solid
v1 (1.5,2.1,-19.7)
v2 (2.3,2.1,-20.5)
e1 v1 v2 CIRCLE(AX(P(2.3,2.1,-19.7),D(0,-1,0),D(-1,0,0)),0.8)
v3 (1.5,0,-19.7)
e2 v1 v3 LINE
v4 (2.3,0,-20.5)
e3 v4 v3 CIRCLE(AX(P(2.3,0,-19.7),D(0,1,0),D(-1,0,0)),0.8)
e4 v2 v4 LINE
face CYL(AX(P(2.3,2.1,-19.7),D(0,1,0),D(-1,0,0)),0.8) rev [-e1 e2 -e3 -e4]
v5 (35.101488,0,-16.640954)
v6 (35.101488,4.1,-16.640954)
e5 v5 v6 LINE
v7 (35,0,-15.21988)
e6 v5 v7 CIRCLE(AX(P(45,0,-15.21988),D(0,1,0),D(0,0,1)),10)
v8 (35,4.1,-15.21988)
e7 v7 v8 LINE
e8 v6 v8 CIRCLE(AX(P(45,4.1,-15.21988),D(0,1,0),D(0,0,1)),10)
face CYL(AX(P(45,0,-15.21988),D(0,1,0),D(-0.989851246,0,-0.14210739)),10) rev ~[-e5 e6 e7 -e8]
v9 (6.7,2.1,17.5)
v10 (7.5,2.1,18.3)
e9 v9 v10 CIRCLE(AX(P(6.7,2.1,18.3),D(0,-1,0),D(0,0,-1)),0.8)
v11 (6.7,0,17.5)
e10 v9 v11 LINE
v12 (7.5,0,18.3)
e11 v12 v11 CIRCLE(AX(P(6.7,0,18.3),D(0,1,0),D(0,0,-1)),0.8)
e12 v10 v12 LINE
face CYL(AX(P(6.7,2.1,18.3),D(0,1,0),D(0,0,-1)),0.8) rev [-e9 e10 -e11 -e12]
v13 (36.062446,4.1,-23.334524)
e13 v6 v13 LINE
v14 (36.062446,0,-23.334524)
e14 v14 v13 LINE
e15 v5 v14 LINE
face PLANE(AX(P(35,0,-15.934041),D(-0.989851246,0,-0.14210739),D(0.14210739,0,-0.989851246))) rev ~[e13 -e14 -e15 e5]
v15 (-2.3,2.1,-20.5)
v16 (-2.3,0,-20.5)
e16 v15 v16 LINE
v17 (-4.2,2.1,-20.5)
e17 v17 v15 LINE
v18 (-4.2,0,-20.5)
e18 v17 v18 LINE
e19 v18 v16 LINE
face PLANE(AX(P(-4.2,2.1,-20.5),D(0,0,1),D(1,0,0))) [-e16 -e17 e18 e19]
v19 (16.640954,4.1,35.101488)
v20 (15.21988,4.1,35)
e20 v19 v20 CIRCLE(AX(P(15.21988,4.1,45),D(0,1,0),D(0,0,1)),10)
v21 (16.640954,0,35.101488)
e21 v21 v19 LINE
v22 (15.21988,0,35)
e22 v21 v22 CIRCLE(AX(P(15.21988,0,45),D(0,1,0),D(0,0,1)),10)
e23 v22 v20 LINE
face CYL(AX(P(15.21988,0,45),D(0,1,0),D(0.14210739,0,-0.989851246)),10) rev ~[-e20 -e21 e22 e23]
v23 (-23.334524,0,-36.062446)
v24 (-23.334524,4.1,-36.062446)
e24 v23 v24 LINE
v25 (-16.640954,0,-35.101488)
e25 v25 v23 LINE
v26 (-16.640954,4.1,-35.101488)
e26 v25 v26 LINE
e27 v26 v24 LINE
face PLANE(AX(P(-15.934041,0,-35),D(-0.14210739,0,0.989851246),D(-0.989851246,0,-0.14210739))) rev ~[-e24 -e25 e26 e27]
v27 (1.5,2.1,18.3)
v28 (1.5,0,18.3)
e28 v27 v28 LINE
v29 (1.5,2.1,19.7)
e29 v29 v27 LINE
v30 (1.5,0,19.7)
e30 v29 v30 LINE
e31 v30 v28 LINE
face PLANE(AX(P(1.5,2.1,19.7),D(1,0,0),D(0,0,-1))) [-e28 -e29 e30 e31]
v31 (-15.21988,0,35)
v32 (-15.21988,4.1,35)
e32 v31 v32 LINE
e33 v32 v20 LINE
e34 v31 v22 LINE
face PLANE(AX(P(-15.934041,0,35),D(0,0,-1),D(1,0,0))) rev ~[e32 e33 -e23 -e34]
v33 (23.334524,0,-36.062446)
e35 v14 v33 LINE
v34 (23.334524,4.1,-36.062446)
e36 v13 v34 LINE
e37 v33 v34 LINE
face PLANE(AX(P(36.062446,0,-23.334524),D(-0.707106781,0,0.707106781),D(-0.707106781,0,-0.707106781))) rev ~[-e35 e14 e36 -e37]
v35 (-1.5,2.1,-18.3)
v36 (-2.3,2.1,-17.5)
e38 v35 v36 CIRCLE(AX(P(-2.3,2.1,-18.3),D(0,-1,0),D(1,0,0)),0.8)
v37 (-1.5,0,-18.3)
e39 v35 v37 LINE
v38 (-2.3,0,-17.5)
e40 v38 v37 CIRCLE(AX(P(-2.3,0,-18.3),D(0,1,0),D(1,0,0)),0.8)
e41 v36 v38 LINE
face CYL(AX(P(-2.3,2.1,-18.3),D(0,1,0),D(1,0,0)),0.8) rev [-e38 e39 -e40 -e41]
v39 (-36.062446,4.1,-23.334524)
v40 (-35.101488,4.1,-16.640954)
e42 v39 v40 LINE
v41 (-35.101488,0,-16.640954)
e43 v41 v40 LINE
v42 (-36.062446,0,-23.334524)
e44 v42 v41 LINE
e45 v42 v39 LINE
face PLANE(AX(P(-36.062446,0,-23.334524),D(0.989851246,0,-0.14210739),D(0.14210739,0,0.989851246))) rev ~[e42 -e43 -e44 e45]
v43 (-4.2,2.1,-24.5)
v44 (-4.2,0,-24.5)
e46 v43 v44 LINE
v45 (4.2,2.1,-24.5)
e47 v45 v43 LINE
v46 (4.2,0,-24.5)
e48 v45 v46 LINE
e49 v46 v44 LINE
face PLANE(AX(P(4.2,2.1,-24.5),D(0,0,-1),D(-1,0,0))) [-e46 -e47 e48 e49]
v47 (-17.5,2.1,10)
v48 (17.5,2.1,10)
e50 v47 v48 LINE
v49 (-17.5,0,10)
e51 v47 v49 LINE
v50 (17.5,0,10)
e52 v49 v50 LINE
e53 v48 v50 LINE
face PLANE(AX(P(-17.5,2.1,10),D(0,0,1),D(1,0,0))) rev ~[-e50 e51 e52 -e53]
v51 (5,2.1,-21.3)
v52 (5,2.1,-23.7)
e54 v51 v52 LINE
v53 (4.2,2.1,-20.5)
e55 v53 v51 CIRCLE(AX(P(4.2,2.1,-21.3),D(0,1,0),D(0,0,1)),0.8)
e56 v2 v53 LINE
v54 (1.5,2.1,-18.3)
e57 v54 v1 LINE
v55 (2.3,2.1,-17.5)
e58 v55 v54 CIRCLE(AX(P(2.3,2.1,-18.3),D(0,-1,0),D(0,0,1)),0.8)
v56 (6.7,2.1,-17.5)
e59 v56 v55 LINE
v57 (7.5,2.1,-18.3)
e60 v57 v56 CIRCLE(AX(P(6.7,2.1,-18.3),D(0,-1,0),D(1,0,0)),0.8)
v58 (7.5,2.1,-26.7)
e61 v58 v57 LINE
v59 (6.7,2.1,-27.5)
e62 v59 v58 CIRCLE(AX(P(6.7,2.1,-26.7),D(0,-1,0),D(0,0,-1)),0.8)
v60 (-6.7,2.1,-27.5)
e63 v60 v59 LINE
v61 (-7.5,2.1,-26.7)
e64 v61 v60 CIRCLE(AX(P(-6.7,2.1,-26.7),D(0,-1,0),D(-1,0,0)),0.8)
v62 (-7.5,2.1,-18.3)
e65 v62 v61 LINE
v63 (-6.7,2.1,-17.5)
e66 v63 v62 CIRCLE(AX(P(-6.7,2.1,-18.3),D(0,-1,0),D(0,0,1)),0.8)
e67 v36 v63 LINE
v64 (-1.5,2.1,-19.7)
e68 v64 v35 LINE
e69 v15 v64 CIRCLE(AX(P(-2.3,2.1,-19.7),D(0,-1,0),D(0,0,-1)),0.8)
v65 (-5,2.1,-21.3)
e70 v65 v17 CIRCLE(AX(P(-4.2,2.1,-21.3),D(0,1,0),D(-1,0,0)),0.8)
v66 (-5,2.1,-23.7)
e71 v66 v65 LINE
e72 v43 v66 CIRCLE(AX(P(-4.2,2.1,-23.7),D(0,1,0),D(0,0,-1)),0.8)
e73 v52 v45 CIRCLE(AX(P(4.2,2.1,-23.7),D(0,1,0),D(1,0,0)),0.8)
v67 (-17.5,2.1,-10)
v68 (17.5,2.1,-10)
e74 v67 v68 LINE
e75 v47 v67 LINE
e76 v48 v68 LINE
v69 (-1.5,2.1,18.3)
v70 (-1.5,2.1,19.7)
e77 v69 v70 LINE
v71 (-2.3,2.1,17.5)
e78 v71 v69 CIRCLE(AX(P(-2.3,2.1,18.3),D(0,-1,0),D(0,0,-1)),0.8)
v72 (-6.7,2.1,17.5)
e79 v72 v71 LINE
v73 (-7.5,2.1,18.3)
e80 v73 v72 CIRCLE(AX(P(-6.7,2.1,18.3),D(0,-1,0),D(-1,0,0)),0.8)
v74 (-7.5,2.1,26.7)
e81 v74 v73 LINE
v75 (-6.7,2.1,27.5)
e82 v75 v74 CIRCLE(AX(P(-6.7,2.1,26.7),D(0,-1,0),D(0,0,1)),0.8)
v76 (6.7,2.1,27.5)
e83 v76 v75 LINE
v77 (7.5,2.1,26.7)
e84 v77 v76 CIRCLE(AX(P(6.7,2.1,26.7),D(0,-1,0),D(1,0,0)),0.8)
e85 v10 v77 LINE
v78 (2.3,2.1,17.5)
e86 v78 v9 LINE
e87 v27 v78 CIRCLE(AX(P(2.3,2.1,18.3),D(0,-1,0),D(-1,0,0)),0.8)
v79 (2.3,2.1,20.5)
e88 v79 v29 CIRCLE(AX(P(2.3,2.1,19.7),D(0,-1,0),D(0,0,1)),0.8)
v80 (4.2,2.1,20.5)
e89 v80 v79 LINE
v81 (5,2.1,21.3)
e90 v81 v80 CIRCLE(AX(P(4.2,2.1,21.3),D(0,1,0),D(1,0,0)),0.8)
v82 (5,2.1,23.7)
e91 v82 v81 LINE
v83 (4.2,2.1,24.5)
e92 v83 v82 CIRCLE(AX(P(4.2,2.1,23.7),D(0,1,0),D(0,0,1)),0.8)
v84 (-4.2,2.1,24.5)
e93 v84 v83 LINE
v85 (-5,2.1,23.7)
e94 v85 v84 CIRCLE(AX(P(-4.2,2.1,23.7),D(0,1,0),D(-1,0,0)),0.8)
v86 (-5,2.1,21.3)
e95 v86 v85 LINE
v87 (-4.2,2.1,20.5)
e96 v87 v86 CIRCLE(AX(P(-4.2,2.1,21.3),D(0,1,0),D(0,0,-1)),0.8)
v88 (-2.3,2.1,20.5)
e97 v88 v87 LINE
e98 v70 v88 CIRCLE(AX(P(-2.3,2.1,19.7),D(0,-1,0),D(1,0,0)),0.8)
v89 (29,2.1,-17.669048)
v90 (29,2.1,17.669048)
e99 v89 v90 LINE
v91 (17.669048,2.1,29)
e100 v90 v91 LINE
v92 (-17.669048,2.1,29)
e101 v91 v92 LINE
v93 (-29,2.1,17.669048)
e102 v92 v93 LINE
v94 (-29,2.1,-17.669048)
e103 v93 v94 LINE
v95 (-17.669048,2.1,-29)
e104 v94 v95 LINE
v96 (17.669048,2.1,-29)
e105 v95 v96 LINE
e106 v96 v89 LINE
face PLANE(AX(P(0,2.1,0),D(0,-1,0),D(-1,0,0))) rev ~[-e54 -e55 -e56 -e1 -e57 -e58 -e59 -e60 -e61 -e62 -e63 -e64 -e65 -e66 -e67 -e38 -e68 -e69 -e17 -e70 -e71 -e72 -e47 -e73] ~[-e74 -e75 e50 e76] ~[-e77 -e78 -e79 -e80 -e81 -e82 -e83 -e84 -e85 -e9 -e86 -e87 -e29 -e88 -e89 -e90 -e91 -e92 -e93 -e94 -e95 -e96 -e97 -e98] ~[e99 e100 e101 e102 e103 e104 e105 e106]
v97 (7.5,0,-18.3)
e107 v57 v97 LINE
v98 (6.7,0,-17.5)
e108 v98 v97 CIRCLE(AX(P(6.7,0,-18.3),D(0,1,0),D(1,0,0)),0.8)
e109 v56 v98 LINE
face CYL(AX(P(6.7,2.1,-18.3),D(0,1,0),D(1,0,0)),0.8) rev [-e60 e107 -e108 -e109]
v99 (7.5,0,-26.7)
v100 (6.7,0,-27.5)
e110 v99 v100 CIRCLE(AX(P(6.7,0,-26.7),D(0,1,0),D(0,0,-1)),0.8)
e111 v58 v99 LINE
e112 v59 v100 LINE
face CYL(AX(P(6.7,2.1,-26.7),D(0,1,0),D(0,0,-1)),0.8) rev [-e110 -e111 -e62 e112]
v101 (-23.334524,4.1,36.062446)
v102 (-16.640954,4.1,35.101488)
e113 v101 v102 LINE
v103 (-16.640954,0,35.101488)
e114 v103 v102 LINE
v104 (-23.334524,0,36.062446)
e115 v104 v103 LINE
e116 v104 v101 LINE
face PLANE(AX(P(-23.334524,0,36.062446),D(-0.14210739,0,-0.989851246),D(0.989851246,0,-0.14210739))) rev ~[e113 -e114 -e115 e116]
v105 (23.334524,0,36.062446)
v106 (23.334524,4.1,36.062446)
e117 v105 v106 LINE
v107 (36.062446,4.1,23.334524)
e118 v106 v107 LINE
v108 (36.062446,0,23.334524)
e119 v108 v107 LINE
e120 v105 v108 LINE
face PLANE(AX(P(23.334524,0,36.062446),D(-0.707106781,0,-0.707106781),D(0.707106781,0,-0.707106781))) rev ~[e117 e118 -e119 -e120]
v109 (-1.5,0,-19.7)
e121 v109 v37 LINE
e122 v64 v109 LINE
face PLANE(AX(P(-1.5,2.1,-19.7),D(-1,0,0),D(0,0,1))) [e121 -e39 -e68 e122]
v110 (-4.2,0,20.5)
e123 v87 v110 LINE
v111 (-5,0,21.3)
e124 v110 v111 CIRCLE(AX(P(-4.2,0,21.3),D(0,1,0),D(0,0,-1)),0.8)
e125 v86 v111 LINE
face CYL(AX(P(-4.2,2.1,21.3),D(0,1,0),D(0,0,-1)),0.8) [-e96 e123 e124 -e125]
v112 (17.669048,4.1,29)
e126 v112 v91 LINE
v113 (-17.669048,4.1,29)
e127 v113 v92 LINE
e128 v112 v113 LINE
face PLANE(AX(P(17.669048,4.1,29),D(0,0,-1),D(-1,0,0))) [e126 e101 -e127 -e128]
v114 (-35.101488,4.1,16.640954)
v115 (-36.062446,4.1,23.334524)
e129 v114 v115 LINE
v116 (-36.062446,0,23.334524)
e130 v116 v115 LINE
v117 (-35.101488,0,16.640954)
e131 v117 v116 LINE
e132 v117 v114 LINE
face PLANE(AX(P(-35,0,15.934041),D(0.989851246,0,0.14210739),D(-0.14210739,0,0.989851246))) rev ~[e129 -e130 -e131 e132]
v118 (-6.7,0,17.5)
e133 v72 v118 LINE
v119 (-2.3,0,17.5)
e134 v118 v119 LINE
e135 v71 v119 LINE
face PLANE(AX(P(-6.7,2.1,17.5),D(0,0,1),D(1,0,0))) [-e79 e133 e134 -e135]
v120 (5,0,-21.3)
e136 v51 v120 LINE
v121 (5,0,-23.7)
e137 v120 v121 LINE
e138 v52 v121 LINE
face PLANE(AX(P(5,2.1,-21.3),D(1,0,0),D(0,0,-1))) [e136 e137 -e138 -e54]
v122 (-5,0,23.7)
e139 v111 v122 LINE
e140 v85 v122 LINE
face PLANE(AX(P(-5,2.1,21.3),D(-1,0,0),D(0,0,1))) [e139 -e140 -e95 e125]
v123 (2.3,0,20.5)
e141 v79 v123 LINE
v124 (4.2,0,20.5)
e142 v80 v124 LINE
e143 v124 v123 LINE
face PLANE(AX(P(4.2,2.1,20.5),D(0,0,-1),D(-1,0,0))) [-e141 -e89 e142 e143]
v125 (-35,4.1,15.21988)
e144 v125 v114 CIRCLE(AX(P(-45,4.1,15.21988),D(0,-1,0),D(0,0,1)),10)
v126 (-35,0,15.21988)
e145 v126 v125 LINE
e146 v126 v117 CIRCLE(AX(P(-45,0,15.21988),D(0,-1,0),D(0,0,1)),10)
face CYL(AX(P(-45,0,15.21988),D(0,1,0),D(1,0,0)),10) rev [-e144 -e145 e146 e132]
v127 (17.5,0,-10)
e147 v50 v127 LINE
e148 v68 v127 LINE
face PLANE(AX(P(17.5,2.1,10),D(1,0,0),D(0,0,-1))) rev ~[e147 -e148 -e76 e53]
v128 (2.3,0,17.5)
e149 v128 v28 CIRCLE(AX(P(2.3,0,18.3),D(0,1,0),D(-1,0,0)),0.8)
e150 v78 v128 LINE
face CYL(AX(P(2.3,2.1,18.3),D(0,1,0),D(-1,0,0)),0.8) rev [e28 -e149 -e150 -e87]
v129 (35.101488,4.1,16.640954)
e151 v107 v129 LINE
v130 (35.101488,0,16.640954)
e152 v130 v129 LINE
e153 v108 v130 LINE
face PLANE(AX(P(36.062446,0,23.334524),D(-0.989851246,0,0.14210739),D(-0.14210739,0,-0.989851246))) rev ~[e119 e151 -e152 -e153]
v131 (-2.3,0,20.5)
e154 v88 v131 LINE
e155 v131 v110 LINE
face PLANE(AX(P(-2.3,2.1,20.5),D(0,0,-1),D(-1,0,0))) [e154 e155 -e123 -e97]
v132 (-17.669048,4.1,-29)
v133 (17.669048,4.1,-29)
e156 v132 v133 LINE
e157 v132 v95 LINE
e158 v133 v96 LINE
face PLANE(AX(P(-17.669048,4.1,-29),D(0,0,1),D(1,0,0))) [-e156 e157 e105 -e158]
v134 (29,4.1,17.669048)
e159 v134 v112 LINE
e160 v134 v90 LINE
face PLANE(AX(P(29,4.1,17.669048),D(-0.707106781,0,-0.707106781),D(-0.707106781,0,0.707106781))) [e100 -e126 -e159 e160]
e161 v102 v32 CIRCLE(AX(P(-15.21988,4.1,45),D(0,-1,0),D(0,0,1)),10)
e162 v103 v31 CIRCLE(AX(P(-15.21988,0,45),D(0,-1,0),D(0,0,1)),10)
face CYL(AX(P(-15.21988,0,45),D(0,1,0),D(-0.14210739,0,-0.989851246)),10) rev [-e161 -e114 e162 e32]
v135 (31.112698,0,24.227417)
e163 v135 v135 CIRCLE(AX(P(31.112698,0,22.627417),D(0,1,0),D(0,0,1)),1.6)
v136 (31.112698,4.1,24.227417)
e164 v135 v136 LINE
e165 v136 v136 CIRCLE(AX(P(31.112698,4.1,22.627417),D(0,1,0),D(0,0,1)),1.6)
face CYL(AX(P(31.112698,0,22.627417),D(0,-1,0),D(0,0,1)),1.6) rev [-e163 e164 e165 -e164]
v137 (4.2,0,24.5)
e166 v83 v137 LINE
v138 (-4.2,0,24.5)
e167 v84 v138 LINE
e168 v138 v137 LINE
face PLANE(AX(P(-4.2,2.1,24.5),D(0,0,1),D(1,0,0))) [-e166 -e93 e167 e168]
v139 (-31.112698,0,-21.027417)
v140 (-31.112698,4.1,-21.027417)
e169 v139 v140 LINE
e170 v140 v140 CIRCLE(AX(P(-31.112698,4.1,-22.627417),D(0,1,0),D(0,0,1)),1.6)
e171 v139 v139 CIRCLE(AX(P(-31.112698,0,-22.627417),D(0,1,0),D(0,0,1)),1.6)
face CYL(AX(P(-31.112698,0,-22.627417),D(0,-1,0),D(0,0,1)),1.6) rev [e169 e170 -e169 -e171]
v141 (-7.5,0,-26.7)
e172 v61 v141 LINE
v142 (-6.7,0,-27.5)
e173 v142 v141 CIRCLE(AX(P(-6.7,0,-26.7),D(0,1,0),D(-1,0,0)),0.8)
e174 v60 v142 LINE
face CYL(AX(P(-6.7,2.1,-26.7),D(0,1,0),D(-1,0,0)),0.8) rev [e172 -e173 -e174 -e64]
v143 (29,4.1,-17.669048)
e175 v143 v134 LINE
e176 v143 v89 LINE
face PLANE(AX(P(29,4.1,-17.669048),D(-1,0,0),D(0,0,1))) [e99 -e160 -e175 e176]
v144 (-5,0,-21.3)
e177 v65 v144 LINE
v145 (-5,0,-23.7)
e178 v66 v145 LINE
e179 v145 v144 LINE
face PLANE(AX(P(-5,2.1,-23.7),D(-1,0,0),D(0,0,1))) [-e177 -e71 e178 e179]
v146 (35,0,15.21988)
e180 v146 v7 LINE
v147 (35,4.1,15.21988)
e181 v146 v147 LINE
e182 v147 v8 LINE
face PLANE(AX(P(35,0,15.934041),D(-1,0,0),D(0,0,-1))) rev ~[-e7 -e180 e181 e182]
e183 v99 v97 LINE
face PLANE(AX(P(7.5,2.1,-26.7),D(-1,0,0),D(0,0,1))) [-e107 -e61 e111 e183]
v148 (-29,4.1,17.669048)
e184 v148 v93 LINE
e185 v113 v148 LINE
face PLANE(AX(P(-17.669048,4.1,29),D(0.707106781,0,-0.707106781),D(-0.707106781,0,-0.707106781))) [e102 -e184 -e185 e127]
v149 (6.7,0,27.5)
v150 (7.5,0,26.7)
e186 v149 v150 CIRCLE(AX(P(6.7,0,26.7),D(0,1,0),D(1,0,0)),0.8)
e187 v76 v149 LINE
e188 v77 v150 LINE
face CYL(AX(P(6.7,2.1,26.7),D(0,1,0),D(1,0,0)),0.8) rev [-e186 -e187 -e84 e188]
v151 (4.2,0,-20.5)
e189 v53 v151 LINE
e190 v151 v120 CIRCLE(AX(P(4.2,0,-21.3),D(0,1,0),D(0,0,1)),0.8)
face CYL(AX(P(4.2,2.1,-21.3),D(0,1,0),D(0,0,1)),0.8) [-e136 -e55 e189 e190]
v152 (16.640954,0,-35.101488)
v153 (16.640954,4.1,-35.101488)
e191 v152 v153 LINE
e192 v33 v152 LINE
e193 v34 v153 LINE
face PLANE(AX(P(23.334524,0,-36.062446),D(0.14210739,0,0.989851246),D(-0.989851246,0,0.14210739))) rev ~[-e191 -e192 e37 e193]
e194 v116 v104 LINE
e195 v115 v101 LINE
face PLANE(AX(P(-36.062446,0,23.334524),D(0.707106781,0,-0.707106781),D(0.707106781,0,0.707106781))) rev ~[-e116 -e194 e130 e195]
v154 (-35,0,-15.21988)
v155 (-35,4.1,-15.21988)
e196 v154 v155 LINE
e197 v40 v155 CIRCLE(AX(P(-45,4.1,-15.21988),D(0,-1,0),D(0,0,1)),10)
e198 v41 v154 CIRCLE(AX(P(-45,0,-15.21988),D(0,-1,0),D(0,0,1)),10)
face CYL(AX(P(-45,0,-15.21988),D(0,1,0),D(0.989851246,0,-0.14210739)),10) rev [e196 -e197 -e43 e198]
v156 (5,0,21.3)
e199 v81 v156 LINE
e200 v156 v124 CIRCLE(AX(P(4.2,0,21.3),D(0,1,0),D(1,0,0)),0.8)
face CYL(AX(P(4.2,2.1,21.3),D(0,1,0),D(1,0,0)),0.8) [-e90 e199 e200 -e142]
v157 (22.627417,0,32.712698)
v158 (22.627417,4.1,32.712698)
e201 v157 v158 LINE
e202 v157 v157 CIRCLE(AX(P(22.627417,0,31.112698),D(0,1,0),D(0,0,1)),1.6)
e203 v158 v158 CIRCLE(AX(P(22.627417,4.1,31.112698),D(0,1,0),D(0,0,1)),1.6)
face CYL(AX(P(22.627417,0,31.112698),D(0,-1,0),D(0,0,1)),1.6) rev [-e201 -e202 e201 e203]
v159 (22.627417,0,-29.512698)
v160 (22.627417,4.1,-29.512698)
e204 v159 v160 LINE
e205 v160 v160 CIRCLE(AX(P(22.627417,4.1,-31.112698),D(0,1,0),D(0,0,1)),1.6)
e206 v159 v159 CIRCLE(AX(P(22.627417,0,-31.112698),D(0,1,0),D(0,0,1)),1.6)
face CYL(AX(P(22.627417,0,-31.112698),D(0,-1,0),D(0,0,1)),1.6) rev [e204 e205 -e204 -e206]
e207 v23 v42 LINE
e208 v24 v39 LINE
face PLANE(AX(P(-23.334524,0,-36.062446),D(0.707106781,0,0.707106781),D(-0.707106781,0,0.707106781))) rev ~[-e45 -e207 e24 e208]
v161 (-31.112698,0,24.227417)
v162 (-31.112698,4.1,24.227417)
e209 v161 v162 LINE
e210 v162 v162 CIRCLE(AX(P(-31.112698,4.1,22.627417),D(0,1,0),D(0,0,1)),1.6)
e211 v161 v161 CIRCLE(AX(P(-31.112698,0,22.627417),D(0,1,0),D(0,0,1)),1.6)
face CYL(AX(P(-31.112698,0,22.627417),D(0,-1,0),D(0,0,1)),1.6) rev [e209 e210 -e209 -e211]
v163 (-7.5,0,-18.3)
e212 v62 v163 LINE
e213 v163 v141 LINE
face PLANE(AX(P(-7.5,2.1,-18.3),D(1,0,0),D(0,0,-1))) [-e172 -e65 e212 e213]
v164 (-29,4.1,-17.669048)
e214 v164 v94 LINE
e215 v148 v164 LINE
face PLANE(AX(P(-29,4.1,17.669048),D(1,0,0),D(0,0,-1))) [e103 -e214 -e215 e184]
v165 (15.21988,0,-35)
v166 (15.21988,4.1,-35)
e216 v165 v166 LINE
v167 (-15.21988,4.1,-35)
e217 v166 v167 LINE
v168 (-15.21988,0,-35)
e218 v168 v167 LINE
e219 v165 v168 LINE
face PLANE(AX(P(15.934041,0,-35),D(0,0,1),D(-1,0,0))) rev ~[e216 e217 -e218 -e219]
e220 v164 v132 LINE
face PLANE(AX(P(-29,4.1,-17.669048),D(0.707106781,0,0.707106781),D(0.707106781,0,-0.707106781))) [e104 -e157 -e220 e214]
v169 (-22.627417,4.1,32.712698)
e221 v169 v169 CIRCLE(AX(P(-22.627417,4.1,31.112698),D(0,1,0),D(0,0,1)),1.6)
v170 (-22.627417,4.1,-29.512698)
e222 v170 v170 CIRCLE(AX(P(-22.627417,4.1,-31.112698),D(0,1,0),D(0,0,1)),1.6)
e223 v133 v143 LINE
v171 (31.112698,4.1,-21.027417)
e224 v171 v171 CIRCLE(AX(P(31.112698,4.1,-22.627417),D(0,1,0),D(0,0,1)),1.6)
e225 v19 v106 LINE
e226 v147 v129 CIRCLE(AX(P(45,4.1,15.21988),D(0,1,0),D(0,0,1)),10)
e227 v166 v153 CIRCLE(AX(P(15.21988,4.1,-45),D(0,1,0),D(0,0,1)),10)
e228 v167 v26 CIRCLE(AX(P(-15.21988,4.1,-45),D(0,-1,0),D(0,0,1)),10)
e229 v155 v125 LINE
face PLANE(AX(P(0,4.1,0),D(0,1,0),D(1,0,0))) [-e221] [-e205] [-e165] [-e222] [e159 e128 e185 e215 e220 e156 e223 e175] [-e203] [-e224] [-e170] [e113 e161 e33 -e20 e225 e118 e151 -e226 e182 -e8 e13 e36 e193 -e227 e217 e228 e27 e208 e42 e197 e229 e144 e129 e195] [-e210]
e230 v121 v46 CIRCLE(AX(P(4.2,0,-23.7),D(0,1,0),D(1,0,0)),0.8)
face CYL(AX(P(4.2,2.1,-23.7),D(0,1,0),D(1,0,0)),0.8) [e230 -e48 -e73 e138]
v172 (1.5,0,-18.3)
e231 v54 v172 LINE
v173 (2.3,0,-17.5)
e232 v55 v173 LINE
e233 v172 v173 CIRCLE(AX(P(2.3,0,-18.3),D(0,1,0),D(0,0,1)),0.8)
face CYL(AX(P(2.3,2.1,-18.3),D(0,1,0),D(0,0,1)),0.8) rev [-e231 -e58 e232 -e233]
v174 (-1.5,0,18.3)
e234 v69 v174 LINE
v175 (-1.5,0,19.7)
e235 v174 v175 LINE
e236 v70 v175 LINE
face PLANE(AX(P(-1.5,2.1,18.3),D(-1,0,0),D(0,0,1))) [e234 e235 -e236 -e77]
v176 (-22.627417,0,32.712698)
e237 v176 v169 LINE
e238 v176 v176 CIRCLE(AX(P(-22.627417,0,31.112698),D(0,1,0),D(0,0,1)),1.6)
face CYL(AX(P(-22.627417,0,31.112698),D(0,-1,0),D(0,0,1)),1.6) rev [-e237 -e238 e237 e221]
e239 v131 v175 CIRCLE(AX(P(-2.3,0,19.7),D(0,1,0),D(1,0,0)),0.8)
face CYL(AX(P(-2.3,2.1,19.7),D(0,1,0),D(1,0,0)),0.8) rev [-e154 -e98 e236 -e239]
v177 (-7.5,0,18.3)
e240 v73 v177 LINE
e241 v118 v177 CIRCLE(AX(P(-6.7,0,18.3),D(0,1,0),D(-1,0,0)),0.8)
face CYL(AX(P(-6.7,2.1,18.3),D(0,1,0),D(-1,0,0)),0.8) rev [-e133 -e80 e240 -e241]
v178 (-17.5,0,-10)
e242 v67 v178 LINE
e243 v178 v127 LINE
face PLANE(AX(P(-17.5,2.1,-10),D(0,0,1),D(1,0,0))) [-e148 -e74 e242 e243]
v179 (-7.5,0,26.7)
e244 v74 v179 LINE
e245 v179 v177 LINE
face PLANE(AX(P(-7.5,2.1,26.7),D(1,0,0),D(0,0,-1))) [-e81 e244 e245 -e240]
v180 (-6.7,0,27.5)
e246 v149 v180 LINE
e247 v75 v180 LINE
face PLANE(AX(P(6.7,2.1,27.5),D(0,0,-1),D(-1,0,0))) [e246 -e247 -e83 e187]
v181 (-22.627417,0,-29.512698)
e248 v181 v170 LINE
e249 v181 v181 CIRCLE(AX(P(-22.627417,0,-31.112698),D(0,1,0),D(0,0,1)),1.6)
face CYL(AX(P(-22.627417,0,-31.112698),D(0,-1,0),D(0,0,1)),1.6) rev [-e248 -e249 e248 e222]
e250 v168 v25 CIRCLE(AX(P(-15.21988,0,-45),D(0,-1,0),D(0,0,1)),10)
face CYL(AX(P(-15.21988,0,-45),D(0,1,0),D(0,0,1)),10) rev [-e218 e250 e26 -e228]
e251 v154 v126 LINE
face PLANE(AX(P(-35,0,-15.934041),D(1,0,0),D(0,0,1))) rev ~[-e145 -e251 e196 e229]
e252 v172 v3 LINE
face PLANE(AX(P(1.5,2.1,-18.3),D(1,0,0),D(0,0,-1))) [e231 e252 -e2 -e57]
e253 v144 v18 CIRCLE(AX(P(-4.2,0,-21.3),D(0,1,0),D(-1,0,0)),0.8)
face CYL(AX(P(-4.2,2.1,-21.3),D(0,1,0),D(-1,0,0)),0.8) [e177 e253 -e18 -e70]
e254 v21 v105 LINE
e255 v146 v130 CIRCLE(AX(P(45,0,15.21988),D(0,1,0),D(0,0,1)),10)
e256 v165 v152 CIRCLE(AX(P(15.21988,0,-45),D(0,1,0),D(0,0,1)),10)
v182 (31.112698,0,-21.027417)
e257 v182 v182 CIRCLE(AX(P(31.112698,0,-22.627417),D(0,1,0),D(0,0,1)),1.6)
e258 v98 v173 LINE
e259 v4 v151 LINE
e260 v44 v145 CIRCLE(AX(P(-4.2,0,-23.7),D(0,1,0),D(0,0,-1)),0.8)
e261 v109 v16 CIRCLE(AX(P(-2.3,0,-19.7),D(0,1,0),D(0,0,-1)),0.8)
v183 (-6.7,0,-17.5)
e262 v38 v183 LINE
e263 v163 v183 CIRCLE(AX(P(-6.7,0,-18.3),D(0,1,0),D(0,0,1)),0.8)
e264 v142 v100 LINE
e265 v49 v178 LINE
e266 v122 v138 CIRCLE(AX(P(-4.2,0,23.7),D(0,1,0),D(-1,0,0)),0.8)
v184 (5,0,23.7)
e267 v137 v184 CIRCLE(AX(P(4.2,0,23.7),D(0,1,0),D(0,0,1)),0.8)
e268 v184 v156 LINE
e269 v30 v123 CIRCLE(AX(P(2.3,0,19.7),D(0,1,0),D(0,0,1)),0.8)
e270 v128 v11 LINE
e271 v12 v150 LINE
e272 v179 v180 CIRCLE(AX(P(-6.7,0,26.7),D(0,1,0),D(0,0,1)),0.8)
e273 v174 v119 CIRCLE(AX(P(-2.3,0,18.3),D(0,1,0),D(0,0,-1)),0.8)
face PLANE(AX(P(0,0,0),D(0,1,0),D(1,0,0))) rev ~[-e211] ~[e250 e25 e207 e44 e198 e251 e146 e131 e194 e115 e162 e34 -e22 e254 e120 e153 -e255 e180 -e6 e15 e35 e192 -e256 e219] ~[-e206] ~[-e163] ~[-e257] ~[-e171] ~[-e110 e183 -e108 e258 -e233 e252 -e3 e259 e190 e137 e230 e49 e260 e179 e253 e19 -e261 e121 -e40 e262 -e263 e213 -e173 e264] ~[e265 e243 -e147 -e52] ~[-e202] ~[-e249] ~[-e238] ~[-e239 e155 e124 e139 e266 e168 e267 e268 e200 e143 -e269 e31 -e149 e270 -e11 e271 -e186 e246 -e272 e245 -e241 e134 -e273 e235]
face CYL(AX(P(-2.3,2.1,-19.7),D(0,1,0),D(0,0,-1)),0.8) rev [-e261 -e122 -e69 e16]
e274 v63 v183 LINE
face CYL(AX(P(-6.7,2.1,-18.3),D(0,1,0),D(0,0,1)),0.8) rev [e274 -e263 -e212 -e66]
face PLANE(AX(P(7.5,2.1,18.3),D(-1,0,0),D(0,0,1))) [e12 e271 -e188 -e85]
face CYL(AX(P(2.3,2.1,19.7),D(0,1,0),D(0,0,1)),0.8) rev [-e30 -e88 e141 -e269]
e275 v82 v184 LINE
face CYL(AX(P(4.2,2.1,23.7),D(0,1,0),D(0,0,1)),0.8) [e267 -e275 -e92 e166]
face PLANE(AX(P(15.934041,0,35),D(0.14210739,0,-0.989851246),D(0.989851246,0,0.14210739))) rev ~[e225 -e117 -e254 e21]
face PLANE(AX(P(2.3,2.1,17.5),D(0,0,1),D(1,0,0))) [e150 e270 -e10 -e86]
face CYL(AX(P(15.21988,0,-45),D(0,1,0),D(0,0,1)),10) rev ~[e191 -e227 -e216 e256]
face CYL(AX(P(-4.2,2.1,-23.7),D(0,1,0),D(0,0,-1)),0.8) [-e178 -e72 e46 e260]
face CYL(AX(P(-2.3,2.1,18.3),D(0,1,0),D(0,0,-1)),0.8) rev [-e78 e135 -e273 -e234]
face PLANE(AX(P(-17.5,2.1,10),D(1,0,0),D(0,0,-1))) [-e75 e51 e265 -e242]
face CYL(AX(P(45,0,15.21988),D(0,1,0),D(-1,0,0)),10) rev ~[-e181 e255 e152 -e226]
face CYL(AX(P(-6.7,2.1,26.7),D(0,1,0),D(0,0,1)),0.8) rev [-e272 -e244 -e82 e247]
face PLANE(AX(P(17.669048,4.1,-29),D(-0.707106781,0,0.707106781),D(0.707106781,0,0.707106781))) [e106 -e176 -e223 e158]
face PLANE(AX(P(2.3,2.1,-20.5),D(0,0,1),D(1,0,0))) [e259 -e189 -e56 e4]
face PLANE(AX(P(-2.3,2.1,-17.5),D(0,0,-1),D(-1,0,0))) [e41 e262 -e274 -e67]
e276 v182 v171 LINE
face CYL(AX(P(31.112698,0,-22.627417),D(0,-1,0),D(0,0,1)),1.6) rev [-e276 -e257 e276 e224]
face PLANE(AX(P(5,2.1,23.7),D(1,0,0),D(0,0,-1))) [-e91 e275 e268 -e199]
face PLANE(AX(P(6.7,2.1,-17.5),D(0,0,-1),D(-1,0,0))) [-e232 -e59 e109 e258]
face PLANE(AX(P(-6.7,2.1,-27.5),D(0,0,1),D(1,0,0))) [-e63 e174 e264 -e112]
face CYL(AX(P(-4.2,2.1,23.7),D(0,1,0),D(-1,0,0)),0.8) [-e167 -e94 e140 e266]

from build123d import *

# Parameters (mm, degrees)
SKETCH1_R           = 1.6
BOSS_EXTRUDE1_DEPTH = 4.1
CUT_EXTRUDE1_DEPTH  = 2
FILLET2_R           = 10
CUT_EXTRUDE4_DEPTH  = 52.043216983
SKETCH7_W           = 35
SKETCH7_H           = 20
CUT_EXTRUDE5_DEPTH  = 52.043216983


with BuildPart() as part:
    # Sketch1 → Boss-Extrude1 (new body)
    with BuildSketch(Plane(origin=(0, 0, 0), x_dir=(1, 0, 0), z_dir=(0, 1, 0))):
        Polygon((15.934040652, 35), (-15.934040652, 35), (-23.334523779, 36.062445841), (-36.062445841, 23.334523779), (-35, 15.934040652), (-35, -15.934040652), (-36.062445841, -23.334523779), (-23.334523779, -36.062445841), (-15.934040652, -35), (15.934040652, -35), (23.334523779, -36.062445841), (36.062445841, -23.334523779), (35, -15.934040652), (35, 15.934040652), (36.062445841, 23.334523779), (23.334523779, 36.062445841), align=None)
        with Locations((22.627416998, 31.112698372)):
            Circle(SKETCH1_R, mode=Mode.SUBTRACT)
        with Locations((31.112698372, 22.627416998)):
            Circle(SKETCH1_R, mode=Mode.SUBTRACT)
        with Locations((22.627416998, -31.112698372)):
            Circle(SKETCH1_R, mode=Mode.SUBTRACT)
        with Locations((31.112698372, -22.627416998)):
            Circle(SKETCH1_R, mode=Mode.SUBTRACT)
        with Locations((-31.112698372, -22.627416998)):
            Circle(SKETCH1_R, mode=Mode.SUBTRACT)
        with Locations((-22.627416998, -31.112698372)):
            Circle(SKETCH1_R, mode=Mode.SUBTRACT)
        with Locations((-22.627416998, 31.112698372)):
            Circle(SKETCH1_R, mode=Mode.SUBTRACT)
        with Locations((-31.112698372, 22.627416998)):
            Circle(SKETCH1_R, mode=Mode.SUBTRACT)
    extrude(amount=BOSS_EXTRUDE1_DEPTH)

    # Sketch2 → Cut-Extrude1 (cut)
    with BuildSketch(Plane(origin=(0, 4.1, 0), x_dir=(1, 0, 0), z_dir=(0, 1, 0))):
        Polygon((-17.669047558, 29), (17.669047558, 29), (29, 17.669047558), (29, -17.669047558), (17.669047558, -29), (-17.669047558, -29), (-29, -17.669047558), (-29, 17.669047558), align=None)
    extrude(amount=-CUT_EXTRUDE1_DEPTH, mode=Mode.SUBTRACT)

    # Fillet2
    fillet2_edges = [part.edges().sort_by_distance(p)[0] for p in [
        (-15.934040652, 2.05, -35),
        (15.934040652, 2.05, -35),
        (35, 2.05, -15.934040652),
        (35, 2.05, 15.934040652),
        (-35, 2.05, -15.934040652),
        (-35, 2.05, 15.934040652),
        (15.934040652, 2.05, 35),
        (-15.934040652, 2.05, 35),
    ]]
    fillet(fillet2_edges, radius=FILLET2_R)

    # Sketch6 → Cut-Extrude4 (cut, through all)
    with BuildSketch(Plane(origin=(0, 2.1, 0), x_dir=(1, 0, 0), z_dir=(0, 1, 0))):
        with BuildLine():
            Line((-1.5, 19.7), (-1.5, 18.3))
            ThreePointArc((-1.5, 18.3), (-1.734314575, 17.734314575), (-2.3, 17.5))
            Line((-2.3, 17.5), (-6.7, 17.5))
            ThreePointArc((-6.7, 17.5), (-7.265685425, 17.734314575), (-7.5, 18.3))
            Line((-7.5, 18.3), (-7.5, 26.7))
            ThreePointArc((-7.5, 26.7), (-7.265685425, 27.265685425), (-6.7, 27.5))
            Line((-6.7, 27.5), (6.7, 27.5))
            ThreePointArc((6.7, 27.5), (7.265685425, 27.265685425), (7.5, 26.7))
            Line((7.5, 26.7), (7.5, 18.3))
            ThreePointArc((7.5, 18.3), (7.265685425, 17.734314575), (6.7, 17.5))
            Line((6.7, 17.5), (2.3, 17.5))
            ThreePointArc((2.3, 17.5), (1.734314575, 17.734314575), (1.5, 18.3))
            Line((1.5, 18.3), (1.5, 19.7))
            ThreePointArc((1.5, 19.7), (1.734314575, 20.265685425), (2.3, 20.5))
            Line((2.3, 20.5), (4.2, 20.5))
            ThreePointArc((4.2, 20.5), (4.765685425, 20.734314575), (5, 21.3))
            Line((5, 21.3), (5, 23.7))
            ThreePointArc((5, 23.7), (4.765685425, 24.265685425), (4.2, 24.5))
            Line((4.2, 24.5), (-4.2, 24.5))
            ThreePointArc((-4.2, 24.5), (-4.765685425, 24.265685425), (-5, 23.7))
            Line((-5, 23.7), (-5, 21.3))
            ThreePointArc((-5, 21.3), (-4.765685425, 20.734314575), (-4.2, 20.5))
            Line((-4.2, 20.5), (-2.3, 20.5))
            ThreePointArc((-2.3, 20.5), (-1.734314575, 20.265685425), (-1.5, 19.7))
        make_face()
        with BuildLine():
            Line((2.3, -17.5), (6.7, -17.5))
            ThreePointArc((6.7, -17.5), (7.265685425, -17.734314575), (7.5, -18.3))
            Line((7.5, -18.3), (7.5, -26.7))
            ThreePointArc((7.5, -26.7), (7.265685425, -27.265685425), (6.7, -27.5))
            Line((6.7, -27.5), (-6.7, -27.5))
            ThreePointArc((-6.7, -27.5), (-7.265685425, -27.265685425), (-7.5, -26.7))
            Line((-7.5, -26.7), (-7.5, -18.3))
            ThreePointArc((-7.5, -18.3), (-7.265685425, -17.734314575), (-6.7, -17.5))
            Line((-6.7, -17.5), (-2.3, -17.5))
            ThreePointArc((-2.3, -17.5), (-1.734314575, -17.734314575), (-1.5, -18.3))
            Line((-1.5, -18.3), (-1.5, -19.7))
            ThreePointArc((-1.5, -19.7), (-1.734314575, -20.265685425), (-2.3, -20.5))
            Line((-2.3, -20.5), (-4.2, -20.5))
            ThreePointArc((-4.2, -20.5), (-4.765685425, -20.734314575), (-5, -21.3))
            Line((-5, -21.3), (-5, -23.7))
            ThreePointArc((-5, -23.7), (-4.765685425, -24.265685425), (-4.2, -24.5))
            Line((-4.2, -24.5), (4.2, -24.5))
            ThreePointArc((4.2, -24.5), (4.765685425, -24.265685425), (5, -23.7))
            Line((5, -23.7), (5, -21.3))
            ThreePointArc((5, -21.3), (4.765685425, -20.734314575), (4.2, -20.5))
            Line((4.2, -20.5), (2.3, -20.5))
            ThreePointArc((2.3, -20.5), (1.734314575, -20.265685425), (1.5, -19.7))
            Line((1.5, -19.7), (1.5, -18.3))
            ThreePointArc((1.5, -18.3), (1.734314575, -17.734314575), (2.3, -17.5))
        make_face()
    extrude(amount=-CUT_EXTRUDE4_DEPTH, mode=Mode.SUBTRACT)

    # Sketch7 → Cut-Extrude5 (cut, through all)
    with BuildSketch(Plane(origin=(0, 2.1, 0), x_dir=(1, 0, 0), z_dir=(0, 1, 0))):
        Rectangle(SKETCH7_W, SKETCH7_H)
    extrude(amount=-CUT_EXTRUDE5_DEPTH, mode=Mode.SUBTRACT)


solid = part.part
